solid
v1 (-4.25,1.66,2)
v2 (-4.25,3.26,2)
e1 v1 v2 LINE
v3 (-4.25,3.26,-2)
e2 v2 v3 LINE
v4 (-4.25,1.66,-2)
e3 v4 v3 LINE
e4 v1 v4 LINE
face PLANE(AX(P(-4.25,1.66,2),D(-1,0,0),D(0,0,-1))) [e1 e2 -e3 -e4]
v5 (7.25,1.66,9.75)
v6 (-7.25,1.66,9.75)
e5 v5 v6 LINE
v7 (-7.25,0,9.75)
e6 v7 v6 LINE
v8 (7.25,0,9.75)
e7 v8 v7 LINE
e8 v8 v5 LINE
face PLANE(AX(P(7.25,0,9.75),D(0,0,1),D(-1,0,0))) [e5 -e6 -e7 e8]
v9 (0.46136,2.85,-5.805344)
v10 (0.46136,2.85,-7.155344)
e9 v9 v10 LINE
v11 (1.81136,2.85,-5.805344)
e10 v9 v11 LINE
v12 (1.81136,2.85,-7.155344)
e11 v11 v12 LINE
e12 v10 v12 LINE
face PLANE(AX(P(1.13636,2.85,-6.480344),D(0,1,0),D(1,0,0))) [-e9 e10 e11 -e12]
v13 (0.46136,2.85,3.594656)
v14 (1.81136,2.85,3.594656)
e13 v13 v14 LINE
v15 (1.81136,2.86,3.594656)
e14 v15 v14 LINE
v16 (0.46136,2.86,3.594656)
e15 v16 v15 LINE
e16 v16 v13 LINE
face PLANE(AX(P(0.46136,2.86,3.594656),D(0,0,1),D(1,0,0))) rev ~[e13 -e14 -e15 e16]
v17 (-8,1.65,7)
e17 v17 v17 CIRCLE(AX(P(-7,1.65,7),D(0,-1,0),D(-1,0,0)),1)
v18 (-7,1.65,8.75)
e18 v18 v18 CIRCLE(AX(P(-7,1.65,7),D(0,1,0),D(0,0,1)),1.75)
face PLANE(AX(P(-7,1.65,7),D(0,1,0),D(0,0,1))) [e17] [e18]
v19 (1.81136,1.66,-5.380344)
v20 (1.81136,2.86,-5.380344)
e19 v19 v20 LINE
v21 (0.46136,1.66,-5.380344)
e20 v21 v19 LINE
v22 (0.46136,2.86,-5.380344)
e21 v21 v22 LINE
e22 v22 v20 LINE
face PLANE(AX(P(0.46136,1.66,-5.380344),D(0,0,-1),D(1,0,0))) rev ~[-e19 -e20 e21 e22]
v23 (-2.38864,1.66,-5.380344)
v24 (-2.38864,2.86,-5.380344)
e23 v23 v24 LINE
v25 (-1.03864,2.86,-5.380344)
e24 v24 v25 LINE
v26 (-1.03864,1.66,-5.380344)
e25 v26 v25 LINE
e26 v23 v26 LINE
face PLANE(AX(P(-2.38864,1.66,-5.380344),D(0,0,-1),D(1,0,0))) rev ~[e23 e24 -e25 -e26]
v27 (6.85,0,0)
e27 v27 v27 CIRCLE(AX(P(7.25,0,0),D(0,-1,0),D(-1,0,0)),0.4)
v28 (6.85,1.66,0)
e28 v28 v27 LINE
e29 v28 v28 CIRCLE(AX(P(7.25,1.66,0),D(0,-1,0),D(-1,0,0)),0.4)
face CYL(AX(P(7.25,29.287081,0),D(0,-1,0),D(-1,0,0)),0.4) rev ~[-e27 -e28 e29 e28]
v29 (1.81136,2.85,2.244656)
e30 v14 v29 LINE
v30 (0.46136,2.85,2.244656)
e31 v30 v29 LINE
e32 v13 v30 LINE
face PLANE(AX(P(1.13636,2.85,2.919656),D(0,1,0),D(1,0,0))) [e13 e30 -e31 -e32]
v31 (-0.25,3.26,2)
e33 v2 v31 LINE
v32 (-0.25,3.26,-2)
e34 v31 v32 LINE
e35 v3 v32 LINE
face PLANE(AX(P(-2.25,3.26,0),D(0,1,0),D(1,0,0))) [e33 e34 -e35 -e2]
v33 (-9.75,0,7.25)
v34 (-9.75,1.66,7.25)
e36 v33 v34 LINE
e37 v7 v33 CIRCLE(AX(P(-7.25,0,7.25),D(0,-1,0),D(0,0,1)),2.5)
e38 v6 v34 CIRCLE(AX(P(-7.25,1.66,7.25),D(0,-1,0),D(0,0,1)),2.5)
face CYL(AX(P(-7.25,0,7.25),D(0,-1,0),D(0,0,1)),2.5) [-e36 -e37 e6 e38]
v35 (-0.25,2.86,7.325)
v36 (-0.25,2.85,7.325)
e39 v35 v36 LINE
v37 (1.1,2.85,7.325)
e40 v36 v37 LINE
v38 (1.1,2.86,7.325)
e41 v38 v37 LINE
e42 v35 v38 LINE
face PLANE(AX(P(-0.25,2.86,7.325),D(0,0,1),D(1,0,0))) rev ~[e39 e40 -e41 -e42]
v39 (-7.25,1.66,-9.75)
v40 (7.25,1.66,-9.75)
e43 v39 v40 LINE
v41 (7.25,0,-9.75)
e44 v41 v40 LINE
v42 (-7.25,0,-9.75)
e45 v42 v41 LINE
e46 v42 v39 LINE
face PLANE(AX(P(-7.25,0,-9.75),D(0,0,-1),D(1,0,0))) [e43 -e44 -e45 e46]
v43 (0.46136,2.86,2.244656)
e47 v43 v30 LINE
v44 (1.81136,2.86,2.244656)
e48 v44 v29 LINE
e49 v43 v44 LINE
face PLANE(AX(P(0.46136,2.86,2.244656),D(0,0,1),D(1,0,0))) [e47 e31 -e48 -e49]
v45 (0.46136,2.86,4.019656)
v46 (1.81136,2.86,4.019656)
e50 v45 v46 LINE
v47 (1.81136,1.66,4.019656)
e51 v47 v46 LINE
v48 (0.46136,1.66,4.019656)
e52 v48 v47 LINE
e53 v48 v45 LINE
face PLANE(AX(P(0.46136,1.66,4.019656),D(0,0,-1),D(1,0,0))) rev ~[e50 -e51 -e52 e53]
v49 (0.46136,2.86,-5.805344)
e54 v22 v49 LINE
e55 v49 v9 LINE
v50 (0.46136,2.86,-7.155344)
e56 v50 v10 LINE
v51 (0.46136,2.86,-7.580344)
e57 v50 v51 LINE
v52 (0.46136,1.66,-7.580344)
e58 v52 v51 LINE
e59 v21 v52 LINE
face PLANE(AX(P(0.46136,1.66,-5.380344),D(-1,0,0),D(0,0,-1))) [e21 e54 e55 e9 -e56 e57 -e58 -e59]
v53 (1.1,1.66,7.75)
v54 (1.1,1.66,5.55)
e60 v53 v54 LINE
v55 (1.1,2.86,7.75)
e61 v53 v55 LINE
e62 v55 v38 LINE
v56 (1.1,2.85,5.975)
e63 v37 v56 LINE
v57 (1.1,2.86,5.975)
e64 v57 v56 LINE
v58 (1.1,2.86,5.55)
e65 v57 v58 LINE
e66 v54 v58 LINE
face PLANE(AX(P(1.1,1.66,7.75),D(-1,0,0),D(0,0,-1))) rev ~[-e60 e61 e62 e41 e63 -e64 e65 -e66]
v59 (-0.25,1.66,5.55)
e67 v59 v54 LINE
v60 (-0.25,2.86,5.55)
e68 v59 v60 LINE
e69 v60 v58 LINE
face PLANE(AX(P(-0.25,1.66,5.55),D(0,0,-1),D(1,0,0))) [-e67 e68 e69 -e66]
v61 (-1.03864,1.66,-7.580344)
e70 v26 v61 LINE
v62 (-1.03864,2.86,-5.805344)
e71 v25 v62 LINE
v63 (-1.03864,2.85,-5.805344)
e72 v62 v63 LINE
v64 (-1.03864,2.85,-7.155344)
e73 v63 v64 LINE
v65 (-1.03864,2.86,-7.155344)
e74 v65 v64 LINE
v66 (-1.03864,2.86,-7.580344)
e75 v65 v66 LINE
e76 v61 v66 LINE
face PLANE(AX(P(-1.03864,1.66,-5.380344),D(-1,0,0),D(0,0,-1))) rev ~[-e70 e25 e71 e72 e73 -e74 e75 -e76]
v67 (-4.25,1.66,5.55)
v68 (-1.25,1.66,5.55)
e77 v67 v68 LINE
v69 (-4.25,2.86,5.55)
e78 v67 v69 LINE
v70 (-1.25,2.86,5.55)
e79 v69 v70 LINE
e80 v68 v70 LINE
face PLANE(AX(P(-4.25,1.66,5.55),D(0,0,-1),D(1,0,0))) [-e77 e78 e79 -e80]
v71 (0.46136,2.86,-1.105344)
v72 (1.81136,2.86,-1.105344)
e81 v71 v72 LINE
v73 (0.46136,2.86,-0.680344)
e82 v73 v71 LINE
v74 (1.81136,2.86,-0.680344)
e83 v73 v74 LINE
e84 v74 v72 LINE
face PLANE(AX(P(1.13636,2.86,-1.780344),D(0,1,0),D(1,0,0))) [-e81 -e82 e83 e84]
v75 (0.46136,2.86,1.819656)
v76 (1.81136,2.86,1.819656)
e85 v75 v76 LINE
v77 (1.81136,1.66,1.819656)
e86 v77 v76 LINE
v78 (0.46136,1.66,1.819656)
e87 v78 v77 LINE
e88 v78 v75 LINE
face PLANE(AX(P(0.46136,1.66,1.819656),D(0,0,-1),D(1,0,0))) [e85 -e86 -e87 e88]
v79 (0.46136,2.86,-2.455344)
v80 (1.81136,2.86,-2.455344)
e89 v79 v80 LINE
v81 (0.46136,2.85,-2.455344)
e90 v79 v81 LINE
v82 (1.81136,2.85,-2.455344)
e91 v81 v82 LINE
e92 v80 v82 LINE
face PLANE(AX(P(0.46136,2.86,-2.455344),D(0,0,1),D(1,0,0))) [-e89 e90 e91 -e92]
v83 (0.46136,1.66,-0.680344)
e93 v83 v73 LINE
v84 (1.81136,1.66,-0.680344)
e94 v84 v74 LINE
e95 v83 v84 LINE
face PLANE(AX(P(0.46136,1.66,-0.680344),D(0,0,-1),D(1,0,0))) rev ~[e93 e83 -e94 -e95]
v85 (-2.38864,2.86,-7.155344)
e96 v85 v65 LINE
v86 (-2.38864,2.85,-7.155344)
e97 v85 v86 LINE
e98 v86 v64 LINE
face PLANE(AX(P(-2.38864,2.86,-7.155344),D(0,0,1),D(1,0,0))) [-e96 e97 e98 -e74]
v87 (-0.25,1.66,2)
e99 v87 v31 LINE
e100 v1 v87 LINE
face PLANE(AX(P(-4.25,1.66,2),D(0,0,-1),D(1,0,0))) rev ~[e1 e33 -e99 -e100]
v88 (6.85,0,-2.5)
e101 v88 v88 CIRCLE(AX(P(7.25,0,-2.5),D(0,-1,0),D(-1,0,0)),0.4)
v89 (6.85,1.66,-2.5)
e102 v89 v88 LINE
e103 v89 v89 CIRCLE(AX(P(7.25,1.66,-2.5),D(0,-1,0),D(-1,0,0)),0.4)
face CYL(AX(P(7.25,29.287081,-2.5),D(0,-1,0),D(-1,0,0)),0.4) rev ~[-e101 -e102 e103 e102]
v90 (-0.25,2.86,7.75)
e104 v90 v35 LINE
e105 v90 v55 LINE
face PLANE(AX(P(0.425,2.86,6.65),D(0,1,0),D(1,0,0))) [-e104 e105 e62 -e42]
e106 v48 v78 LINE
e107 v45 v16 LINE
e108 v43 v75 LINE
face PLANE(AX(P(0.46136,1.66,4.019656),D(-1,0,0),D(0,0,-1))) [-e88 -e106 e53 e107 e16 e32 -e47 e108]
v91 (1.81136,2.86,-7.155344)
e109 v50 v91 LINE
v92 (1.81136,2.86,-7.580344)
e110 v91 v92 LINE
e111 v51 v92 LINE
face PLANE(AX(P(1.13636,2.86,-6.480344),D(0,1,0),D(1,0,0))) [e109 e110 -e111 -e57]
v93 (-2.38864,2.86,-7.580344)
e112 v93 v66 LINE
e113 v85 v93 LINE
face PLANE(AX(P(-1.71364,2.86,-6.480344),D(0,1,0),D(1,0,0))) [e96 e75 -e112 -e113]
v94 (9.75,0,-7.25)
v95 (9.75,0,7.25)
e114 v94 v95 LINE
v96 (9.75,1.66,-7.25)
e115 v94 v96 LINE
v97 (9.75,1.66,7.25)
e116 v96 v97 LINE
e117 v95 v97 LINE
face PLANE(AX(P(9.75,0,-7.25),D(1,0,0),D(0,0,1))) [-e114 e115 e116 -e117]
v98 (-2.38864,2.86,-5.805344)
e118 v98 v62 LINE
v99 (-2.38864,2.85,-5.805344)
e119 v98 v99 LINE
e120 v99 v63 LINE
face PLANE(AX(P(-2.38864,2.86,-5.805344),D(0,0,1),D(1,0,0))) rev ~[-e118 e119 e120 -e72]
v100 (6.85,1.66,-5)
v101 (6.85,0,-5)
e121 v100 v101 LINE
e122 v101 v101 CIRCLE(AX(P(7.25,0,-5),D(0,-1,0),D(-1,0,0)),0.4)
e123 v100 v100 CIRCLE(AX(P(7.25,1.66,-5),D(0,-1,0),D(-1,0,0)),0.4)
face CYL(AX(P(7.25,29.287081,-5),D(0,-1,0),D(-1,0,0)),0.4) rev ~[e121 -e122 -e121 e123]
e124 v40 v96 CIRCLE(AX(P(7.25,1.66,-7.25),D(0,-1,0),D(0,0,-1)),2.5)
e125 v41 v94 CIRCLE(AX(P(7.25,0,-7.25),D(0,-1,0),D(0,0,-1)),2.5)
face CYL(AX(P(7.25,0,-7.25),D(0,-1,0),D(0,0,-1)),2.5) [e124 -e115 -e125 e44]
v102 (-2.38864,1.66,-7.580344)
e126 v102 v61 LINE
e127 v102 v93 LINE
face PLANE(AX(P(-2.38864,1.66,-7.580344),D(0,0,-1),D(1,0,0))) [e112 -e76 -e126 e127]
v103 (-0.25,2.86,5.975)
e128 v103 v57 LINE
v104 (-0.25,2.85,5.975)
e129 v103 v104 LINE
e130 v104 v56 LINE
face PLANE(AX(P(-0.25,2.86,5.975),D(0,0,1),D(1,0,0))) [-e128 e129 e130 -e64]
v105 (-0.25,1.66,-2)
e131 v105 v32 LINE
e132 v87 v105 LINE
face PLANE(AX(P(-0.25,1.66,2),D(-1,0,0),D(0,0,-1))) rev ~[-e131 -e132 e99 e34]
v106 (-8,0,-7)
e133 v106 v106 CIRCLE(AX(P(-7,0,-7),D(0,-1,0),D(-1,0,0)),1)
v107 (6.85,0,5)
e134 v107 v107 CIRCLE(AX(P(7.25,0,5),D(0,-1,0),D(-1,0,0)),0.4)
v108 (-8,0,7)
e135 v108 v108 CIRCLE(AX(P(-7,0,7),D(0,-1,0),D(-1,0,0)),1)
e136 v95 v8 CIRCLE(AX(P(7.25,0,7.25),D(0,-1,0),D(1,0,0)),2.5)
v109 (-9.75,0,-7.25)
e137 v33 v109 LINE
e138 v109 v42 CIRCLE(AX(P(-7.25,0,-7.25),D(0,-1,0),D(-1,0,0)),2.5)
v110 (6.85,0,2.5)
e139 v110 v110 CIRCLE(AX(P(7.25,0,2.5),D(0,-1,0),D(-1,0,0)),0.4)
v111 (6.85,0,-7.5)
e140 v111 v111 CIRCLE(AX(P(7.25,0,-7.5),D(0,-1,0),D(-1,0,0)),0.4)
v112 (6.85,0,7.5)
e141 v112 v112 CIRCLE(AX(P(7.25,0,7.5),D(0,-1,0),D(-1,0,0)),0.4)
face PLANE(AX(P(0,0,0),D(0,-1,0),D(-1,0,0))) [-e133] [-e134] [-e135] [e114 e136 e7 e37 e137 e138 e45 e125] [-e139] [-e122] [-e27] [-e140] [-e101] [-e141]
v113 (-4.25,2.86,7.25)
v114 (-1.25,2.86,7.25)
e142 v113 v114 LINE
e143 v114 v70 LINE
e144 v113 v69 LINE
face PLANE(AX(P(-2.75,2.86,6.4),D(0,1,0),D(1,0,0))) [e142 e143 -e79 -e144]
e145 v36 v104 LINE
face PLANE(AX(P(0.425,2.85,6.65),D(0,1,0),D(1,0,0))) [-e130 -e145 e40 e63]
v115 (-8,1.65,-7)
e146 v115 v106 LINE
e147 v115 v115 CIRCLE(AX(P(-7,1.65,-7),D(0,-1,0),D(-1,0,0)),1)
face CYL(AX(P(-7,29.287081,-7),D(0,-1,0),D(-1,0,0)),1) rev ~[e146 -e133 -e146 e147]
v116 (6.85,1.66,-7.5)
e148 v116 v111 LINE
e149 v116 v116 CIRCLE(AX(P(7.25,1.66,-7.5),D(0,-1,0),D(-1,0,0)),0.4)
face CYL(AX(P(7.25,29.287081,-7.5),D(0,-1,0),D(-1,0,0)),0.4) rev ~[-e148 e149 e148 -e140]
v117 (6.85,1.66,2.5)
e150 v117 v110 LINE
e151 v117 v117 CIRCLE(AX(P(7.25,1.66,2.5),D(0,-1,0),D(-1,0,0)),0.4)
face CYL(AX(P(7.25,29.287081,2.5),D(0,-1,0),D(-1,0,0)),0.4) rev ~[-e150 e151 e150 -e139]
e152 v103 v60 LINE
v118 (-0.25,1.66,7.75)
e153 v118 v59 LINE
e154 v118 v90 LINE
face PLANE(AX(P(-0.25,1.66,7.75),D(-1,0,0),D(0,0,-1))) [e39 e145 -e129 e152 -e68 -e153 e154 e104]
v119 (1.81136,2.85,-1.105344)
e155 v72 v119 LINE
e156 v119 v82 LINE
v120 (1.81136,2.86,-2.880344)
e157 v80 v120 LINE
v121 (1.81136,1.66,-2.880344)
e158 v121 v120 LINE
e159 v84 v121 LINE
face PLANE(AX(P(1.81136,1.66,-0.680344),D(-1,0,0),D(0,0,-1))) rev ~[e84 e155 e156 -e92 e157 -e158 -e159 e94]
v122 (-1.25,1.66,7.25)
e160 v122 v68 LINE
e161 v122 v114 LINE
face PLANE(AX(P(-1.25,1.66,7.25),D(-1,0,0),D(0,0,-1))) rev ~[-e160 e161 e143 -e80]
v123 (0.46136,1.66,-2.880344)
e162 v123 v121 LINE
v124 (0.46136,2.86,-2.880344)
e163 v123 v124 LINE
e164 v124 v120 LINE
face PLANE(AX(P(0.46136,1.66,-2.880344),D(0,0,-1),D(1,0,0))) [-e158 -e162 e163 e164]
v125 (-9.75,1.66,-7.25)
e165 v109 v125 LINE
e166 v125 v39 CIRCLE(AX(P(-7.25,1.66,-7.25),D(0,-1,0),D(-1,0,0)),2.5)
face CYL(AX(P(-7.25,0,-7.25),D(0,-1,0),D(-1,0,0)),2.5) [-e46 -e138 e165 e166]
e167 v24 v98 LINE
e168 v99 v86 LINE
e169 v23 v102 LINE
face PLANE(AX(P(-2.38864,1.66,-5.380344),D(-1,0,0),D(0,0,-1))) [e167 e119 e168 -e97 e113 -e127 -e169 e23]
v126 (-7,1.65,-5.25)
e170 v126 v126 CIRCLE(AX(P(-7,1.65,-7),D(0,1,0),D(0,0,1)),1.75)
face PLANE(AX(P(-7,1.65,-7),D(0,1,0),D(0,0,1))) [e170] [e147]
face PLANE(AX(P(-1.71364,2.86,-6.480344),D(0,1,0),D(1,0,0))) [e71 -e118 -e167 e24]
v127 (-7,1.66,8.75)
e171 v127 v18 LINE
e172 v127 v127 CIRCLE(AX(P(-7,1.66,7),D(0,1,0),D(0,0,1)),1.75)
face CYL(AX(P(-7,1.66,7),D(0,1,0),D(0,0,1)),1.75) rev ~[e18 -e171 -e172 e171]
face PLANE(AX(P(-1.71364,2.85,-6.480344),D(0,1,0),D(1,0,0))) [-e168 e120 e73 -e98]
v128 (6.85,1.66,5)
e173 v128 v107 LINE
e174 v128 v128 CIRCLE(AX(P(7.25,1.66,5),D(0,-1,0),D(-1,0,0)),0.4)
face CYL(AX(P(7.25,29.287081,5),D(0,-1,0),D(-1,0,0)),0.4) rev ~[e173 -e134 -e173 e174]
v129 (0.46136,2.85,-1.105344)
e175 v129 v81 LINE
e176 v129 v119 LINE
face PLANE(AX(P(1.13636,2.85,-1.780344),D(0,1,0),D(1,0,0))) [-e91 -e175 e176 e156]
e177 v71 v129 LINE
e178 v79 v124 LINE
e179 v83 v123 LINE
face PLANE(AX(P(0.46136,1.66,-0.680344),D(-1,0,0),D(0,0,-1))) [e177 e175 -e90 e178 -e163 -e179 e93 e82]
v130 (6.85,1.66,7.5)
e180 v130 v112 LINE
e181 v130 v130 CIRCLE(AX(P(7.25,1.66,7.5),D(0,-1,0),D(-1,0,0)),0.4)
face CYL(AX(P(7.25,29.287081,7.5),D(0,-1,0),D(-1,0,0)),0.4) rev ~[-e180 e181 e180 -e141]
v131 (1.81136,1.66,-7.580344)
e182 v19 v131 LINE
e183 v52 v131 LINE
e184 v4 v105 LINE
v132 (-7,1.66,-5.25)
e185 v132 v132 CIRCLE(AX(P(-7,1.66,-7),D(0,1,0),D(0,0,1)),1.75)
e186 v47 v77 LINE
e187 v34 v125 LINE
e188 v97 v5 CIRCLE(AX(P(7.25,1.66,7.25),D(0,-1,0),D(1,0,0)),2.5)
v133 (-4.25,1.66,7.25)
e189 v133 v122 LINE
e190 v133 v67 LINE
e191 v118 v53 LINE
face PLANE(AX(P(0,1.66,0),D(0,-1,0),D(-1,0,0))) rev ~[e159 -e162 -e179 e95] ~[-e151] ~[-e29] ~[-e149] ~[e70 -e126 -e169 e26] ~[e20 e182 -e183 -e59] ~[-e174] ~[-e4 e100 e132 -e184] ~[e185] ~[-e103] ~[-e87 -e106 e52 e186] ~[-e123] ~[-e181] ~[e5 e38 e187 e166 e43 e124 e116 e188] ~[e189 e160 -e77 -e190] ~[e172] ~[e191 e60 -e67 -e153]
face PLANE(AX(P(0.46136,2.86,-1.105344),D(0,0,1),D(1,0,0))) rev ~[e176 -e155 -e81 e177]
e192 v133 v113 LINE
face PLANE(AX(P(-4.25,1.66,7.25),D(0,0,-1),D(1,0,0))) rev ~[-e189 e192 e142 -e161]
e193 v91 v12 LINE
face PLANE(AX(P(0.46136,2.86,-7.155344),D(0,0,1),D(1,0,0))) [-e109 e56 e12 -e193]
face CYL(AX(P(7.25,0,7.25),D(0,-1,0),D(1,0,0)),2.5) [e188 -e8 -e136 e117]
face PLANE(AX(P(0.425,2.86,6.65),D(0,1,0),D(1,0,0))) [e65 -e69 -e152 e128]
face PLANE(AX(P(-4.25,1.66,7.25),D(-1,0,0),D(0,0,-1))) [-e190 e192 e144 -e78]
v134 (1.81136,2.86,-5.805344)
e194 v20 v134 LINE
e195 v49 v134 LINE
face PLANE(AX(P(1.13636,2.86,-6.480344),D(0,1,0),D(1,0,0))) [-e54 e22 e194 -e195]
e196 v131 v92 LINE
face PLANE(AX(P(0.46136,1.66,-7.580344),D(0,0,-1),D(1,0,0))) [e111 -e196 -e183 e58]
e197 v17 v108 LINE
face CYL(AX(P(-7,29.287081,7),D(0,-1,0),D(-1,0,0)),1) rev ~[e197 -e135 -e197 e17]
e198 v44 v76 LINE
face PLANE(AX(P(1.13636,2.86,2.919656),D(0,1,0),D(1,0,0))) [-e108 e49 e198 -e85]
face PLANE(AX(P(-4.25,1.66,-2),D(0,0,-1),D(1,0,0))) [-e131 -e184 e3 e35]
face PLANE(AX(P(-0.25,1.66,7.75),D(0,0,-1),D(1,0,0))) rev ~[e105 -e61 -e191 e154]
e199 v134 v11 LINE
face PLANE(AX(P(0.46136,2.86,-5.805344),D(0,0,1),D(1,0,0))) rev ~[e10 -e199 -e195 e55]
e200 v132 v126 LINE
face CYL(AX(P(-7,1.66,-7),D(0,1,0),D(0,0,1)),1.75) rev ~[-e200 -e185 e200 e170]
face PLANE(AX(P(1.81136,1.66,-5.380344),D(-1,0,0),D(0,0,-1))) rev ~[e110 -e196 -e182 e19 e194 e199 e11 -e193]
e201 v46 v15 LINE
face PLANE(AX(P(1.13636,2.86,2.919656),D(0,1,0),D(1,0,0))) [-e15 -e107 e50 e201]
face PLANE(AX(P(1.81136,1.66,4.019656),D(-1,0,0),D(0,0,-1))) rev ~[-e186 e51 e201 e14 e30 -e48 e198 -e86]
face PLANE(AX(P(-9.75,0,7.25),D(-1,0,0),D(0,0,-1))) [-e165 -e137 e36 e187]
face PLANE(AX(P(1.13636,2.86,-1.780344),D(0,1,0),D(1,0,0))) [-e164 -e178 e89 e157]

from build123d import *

# Parameters (mm, degrees)
BOSS_EXTRU_1_DEPTH              = 1.66
DIAM_TRE_DU_PER_AGE_2_0_2_1_D   = 2
ESQUISSE4_R                     = 1.75
ENL_V_MAT_EXTRU_1_DEPTH         = 0.01
DIAM_TRE_DU_PER_AGE_0_8_0_8_1_D = 0.8
ESQUISSE7_W                     = 4
ESQUISSE7_H                     = 4
BOSS_EXTRU_2_DEPTH              = 1.6
ESQUISSE8_W                     = 3
ESQUISSE8_H                     = 1.7
BOSS_EXTRU_3_DEPTH              = 1.2
ESQUISSE9_W                     = 1.35
ESQUISSE9_H                     = 2.2
BOSS_EXTRU_4_DEPTH              = 1.2
ESQUISSE10_W                    = 1.35
ESQUISSE10_H                    = 1.35
ENL_V_MAT_EXTRU_2_DEPTH         = 0.01
ESQUISSE13_W                    = 1.35
ESQUISSE13_H                    = 2.2
BOSS_EXTRU_6_DEPTH              = 1.2
ESQUISSE15_W                    = 1.35
ESQUISSE15_H                    = 1.35
ENL_V_MAT_EXTRU_3_DEPTH         = 0.01
ESQUISSE18_W                    = 1.35
ESQUISSE18_H                    = 2.2
BOSS_EXTRU_7_DEPTH              = 1.2
ESQUISSE20_W                    = 1.35
ESQUISSE20_H                    = 1.35
ENL_V_MAT_EXTRU_5_DEPTH         = 0.01
ESQUISSE23_W                    = 1.35
ESQUISSE23_H                    = 2.2
BOSS_EXTRU_9_DEPTH              = 1.2
ESQUISSE25_W                    = 1.35
ESQUISSE25_H                    = 1.35
ENL_V_MAT_EXTRU_6_DEPTH         = 0.01
ESQUISSE27_W                    = 1.35
ESQUISSE27_H                    = 2.2
BOSS_EXTRU_10_DEPTH             = 1.2
ESQUISSE29_W                    = 1.35
ESQUISSE29_H                    = 1.35
ENL_V_MAT_EXTRU_7_DEPTH         = 0.01


with BuildPart() as part:
    # Esquisse1 → Boss.-Extru.1 (new body)
    with BuildSketch(Plane(origin=(0, 0, 0), x_dir=(1, 0, 0), z_dir=(0, 1, 0))):
        with BuildLine():
            Line((-7.25, 9.75), (7.25, 9.75))
            ThreePointArc((7.25, 9.75), (9.017766953, 9.017766953), (9.75, 7.25))
            Line((9.75, 7.25), (9.75, -7.25))
            ThreePointArc((9.75, -7.25), (9.017766953, -9.017766953), (7.25, -9.75))
            Line((7.25, -9.75), (-7.25, -9.75))
            ThreePointArc((-7.25, -9.75), (-9.017766953, -9.017766953), (-9.75, -7.25))
            Line((-9.75, -7.25), (-9.75, 7.25))
            ThreePointArc((-9.75, 7.25), (-9.017766953, 9.017766953), (-7.25, 9.75))
        make_face()
    extrude(amount=BOSS_EXTRU_1_DEPTH)

    # Diamètre du perçage Ø2.0 (2)1 (through all)
    with Locations(Plane(origin=(0, 1.66, 0), x_dir=(1, 0, 0), z_dir=(0, 1, 0))):
        with Locations((-7, -7), (-7, 7)):
            Hole(DIAM_TRE_DU_PER_AGE_2_0_2_1_D / 2)

    # Esquisse4 → Enlèv. mat.-Extru.1 (cut)
    with BuildSketch(Plane(origin=(0, 1.66, 0), x_dir=(1, 0, 0), z_dir=(0, 1, 0))):
        with Locations((-7, 7)):
            Circle(ESQUISSE4_R)
        with Locations((-7, -7)):
            Circle(ESQUISSE4_R)
    extrude(amount=-ENL_V_MAT_EXTRU_1_DEPTH, mode=Mode.SUBTRACT)

    # Diamètre du perçage Ø0.8 (0.8)1 (through all)
    with Locations(Plane(origin=(0, 1.66, 0), x_dir=(1, 0, 0), z_dir=(0, 1, 0))):
        with Locations((7.25, 7.5), (7.25, 5), (7.25, 2.5), (7.25, 0), (7.25, -2.5), (7.25, -5), (7.25, -7.5)):
            Hole(DIAM_TRE_DU_PER_AGE_0_8_0_8_1_D / 2)

    # Esquisse7 → Boss.-Extru.2 (add)
    with BuildSketch(Plane(origin=(0, 1.66, 0), x_dir=(1, 0, 0), z_dir=(0, 1, 0))):
        with Locations((-2.25, 0)):
            Rectangle(ESQUISSE7_W, ESQUISSE7_H)
    extrude(amount=BOSS_EXTRU_2_DEPTH)

    # Esquisse8 → Boss.-Extru.3 (add)
    with BuildSketch(Plane(origin=(0, 1.66, 0), x_dir=(1, 0, 0), z_dir=(0, 1, 0))):
        with Locations((-2.75, -6.4)):
            Rectangle(ESQUISSE8_W, ESQUISSE8_H)
    extrude(amount=BOSS_EXTRU_3_DEPTH)

    # Esquisse9 → Boss.-Extru.4 (add)
    with BuildSketch(Plane(origin=(0, 1.66, 0), x_dir=(1, 0, 0), z_dir=(0, 1, 0))):
        with Locations((-1.713640357, 6.480344191)):
            Rectangle(ESQUISSE9_W, ESQUISSE9_H)
    extrude(amount=BOSS_EXTRU_4_DEPTH)

    # Esquisse10 → Enlèv. mat.-Extru.2 (cut)
    with BuildSketch(Plane(origin=(0, 2.86, 0), x_dir=(1, 0, 0), z_dir=(0, 1, 0))):
        with Locations((-1.713640357, 6.480344191)):
            Rectangle(ESQUISSE10_W, ESQUISSE10_H)
    extrude(amount=-ENL_V_MAT_EXTRU_2_DEPTH, mode=Mode.SUBTRACT)

    # Esquisse13 → Boss.-Extru.6 (add)
    with BuildSketch(Plane(origin=(5.041533198, 1.66, 0.171739912), x_dir=(1, 0, 0), z_dir=(0, 1, 0))):
        with Locations((-3.905173555, 6.652084103)):
            Rectangle(ESQUISSE13_W, ESQUISSE13_H)
    extrude(amount=BOSS_EXTRU_6_DEPTH)

    # Esquisse15 → Enlèv. mat.-Extru.3 (cut)
    with BuildSketch(Plane(origin=(5.041533198, 2.86, 0.171739912), x_dir=(1, 0, 0), z_dir=(0, 1, 0))):
        with Locations((-3.905173555, 6.652084103)):
            Rectangle(ESQUISSE15_W, ESQUISSE15_H)
    extrude(amount=-ENL_V_MAT_EXTRU_3_DEPTH, mode=Mode.SUBTRACT)

    # Esquisse18 → Boss.-Extru.7 (add)
    with BuildSketch(Plane(origin=(3.245250957, 1.66, 3.023332502), x_dir=(1, 0, 0), z_dir=(0, 1, 0))):
        with Locations((-2.108891314, 4.803676693)):
            Rectangle(ESQUISSE18_W, ESQUISSE18_H)
    extrude(amount=BOSS_EXTRU_7_DEPTH)

    # Esquisse20 → Enlèv. mat.-Extru.5 (cut)
    with BuildSketch(Plane(origin=(3.245250957, 2.86, 3.023332502), x_dir=(1, 0, 0), z_dir=(0, 1, 0))):
        with Locations((-2.108891314, 4.803676693)):
            Rectangle(ESQUISSE20_W, ESQUISSE20_H)
    extrude(amount=-ENL_V_MAT_EXTRU_5_DEPTH, mode=Mode.SUBTRACT)

    # Esquisse23 → Boss.-Extru.9 (add)
    with BuildSketch(Plane(origin=(5.945511171, 1.66, 6.874523991), x_dir=(1, 0, 0), z_dir=(0, 1, 0))):
        with Locations((-4.809151527, 3.954868182)):
            Rectangle(ESQUISSE23_W, ESQUISSE23_H)
    extrude(amount=BOSS_EXTRU_9_DEPTH)

    # Esquisse25 → Enlèv. mat.-Extru.6 (cut)
    with BuildSketch(Plane(origin=(5.945511171, 2.86, 6.874523991), x_dir=(1, 0, 0), z_dir=(0, 1, 0))):
        with Locations((-4.809151527, 3.954868182)):
            Rectangle(ESQUISSE25_W, ESQUISSE25_H)
    extrude(amount=-ENL_V_MAT_EXTRU_6_DEPTH, mode=Mode.SUBTRACT)

    # Esquisse27 → Boss.-Extru.10 (add)
    with BuildSketch(Plane(origin=(2.244432679, 1.66, 9.735089798), x_dir=(1, 0, 0), z_dir=(0, 1, 0))):
        with Locations((-1.819432679, 3.085089798)):
            Rectangle(ESQUISSE27_W, ESQUISSE27_H)
    extrude(amount=BOSS_EXTRU_10_DEPTH)

    # Esquisse29 → Enlèv. mat.-Extru.7 (cut)
    with BuildSketch(Plane(origin=(2.244432679, 2.86, 9.735089798), x_dir=(1, 0, 0), z_dir=(0, 1, 0))):
        with Locations((-1.819432679, 3.085089798)):
            Rectangle(ESQUISSE29_W, ESQUISSE29_H)
    extrude(amount=-ENL_V_MAT_EXTRU_7_DEPTH, mode=Mode.SUBTRACT)


solid = part.part
